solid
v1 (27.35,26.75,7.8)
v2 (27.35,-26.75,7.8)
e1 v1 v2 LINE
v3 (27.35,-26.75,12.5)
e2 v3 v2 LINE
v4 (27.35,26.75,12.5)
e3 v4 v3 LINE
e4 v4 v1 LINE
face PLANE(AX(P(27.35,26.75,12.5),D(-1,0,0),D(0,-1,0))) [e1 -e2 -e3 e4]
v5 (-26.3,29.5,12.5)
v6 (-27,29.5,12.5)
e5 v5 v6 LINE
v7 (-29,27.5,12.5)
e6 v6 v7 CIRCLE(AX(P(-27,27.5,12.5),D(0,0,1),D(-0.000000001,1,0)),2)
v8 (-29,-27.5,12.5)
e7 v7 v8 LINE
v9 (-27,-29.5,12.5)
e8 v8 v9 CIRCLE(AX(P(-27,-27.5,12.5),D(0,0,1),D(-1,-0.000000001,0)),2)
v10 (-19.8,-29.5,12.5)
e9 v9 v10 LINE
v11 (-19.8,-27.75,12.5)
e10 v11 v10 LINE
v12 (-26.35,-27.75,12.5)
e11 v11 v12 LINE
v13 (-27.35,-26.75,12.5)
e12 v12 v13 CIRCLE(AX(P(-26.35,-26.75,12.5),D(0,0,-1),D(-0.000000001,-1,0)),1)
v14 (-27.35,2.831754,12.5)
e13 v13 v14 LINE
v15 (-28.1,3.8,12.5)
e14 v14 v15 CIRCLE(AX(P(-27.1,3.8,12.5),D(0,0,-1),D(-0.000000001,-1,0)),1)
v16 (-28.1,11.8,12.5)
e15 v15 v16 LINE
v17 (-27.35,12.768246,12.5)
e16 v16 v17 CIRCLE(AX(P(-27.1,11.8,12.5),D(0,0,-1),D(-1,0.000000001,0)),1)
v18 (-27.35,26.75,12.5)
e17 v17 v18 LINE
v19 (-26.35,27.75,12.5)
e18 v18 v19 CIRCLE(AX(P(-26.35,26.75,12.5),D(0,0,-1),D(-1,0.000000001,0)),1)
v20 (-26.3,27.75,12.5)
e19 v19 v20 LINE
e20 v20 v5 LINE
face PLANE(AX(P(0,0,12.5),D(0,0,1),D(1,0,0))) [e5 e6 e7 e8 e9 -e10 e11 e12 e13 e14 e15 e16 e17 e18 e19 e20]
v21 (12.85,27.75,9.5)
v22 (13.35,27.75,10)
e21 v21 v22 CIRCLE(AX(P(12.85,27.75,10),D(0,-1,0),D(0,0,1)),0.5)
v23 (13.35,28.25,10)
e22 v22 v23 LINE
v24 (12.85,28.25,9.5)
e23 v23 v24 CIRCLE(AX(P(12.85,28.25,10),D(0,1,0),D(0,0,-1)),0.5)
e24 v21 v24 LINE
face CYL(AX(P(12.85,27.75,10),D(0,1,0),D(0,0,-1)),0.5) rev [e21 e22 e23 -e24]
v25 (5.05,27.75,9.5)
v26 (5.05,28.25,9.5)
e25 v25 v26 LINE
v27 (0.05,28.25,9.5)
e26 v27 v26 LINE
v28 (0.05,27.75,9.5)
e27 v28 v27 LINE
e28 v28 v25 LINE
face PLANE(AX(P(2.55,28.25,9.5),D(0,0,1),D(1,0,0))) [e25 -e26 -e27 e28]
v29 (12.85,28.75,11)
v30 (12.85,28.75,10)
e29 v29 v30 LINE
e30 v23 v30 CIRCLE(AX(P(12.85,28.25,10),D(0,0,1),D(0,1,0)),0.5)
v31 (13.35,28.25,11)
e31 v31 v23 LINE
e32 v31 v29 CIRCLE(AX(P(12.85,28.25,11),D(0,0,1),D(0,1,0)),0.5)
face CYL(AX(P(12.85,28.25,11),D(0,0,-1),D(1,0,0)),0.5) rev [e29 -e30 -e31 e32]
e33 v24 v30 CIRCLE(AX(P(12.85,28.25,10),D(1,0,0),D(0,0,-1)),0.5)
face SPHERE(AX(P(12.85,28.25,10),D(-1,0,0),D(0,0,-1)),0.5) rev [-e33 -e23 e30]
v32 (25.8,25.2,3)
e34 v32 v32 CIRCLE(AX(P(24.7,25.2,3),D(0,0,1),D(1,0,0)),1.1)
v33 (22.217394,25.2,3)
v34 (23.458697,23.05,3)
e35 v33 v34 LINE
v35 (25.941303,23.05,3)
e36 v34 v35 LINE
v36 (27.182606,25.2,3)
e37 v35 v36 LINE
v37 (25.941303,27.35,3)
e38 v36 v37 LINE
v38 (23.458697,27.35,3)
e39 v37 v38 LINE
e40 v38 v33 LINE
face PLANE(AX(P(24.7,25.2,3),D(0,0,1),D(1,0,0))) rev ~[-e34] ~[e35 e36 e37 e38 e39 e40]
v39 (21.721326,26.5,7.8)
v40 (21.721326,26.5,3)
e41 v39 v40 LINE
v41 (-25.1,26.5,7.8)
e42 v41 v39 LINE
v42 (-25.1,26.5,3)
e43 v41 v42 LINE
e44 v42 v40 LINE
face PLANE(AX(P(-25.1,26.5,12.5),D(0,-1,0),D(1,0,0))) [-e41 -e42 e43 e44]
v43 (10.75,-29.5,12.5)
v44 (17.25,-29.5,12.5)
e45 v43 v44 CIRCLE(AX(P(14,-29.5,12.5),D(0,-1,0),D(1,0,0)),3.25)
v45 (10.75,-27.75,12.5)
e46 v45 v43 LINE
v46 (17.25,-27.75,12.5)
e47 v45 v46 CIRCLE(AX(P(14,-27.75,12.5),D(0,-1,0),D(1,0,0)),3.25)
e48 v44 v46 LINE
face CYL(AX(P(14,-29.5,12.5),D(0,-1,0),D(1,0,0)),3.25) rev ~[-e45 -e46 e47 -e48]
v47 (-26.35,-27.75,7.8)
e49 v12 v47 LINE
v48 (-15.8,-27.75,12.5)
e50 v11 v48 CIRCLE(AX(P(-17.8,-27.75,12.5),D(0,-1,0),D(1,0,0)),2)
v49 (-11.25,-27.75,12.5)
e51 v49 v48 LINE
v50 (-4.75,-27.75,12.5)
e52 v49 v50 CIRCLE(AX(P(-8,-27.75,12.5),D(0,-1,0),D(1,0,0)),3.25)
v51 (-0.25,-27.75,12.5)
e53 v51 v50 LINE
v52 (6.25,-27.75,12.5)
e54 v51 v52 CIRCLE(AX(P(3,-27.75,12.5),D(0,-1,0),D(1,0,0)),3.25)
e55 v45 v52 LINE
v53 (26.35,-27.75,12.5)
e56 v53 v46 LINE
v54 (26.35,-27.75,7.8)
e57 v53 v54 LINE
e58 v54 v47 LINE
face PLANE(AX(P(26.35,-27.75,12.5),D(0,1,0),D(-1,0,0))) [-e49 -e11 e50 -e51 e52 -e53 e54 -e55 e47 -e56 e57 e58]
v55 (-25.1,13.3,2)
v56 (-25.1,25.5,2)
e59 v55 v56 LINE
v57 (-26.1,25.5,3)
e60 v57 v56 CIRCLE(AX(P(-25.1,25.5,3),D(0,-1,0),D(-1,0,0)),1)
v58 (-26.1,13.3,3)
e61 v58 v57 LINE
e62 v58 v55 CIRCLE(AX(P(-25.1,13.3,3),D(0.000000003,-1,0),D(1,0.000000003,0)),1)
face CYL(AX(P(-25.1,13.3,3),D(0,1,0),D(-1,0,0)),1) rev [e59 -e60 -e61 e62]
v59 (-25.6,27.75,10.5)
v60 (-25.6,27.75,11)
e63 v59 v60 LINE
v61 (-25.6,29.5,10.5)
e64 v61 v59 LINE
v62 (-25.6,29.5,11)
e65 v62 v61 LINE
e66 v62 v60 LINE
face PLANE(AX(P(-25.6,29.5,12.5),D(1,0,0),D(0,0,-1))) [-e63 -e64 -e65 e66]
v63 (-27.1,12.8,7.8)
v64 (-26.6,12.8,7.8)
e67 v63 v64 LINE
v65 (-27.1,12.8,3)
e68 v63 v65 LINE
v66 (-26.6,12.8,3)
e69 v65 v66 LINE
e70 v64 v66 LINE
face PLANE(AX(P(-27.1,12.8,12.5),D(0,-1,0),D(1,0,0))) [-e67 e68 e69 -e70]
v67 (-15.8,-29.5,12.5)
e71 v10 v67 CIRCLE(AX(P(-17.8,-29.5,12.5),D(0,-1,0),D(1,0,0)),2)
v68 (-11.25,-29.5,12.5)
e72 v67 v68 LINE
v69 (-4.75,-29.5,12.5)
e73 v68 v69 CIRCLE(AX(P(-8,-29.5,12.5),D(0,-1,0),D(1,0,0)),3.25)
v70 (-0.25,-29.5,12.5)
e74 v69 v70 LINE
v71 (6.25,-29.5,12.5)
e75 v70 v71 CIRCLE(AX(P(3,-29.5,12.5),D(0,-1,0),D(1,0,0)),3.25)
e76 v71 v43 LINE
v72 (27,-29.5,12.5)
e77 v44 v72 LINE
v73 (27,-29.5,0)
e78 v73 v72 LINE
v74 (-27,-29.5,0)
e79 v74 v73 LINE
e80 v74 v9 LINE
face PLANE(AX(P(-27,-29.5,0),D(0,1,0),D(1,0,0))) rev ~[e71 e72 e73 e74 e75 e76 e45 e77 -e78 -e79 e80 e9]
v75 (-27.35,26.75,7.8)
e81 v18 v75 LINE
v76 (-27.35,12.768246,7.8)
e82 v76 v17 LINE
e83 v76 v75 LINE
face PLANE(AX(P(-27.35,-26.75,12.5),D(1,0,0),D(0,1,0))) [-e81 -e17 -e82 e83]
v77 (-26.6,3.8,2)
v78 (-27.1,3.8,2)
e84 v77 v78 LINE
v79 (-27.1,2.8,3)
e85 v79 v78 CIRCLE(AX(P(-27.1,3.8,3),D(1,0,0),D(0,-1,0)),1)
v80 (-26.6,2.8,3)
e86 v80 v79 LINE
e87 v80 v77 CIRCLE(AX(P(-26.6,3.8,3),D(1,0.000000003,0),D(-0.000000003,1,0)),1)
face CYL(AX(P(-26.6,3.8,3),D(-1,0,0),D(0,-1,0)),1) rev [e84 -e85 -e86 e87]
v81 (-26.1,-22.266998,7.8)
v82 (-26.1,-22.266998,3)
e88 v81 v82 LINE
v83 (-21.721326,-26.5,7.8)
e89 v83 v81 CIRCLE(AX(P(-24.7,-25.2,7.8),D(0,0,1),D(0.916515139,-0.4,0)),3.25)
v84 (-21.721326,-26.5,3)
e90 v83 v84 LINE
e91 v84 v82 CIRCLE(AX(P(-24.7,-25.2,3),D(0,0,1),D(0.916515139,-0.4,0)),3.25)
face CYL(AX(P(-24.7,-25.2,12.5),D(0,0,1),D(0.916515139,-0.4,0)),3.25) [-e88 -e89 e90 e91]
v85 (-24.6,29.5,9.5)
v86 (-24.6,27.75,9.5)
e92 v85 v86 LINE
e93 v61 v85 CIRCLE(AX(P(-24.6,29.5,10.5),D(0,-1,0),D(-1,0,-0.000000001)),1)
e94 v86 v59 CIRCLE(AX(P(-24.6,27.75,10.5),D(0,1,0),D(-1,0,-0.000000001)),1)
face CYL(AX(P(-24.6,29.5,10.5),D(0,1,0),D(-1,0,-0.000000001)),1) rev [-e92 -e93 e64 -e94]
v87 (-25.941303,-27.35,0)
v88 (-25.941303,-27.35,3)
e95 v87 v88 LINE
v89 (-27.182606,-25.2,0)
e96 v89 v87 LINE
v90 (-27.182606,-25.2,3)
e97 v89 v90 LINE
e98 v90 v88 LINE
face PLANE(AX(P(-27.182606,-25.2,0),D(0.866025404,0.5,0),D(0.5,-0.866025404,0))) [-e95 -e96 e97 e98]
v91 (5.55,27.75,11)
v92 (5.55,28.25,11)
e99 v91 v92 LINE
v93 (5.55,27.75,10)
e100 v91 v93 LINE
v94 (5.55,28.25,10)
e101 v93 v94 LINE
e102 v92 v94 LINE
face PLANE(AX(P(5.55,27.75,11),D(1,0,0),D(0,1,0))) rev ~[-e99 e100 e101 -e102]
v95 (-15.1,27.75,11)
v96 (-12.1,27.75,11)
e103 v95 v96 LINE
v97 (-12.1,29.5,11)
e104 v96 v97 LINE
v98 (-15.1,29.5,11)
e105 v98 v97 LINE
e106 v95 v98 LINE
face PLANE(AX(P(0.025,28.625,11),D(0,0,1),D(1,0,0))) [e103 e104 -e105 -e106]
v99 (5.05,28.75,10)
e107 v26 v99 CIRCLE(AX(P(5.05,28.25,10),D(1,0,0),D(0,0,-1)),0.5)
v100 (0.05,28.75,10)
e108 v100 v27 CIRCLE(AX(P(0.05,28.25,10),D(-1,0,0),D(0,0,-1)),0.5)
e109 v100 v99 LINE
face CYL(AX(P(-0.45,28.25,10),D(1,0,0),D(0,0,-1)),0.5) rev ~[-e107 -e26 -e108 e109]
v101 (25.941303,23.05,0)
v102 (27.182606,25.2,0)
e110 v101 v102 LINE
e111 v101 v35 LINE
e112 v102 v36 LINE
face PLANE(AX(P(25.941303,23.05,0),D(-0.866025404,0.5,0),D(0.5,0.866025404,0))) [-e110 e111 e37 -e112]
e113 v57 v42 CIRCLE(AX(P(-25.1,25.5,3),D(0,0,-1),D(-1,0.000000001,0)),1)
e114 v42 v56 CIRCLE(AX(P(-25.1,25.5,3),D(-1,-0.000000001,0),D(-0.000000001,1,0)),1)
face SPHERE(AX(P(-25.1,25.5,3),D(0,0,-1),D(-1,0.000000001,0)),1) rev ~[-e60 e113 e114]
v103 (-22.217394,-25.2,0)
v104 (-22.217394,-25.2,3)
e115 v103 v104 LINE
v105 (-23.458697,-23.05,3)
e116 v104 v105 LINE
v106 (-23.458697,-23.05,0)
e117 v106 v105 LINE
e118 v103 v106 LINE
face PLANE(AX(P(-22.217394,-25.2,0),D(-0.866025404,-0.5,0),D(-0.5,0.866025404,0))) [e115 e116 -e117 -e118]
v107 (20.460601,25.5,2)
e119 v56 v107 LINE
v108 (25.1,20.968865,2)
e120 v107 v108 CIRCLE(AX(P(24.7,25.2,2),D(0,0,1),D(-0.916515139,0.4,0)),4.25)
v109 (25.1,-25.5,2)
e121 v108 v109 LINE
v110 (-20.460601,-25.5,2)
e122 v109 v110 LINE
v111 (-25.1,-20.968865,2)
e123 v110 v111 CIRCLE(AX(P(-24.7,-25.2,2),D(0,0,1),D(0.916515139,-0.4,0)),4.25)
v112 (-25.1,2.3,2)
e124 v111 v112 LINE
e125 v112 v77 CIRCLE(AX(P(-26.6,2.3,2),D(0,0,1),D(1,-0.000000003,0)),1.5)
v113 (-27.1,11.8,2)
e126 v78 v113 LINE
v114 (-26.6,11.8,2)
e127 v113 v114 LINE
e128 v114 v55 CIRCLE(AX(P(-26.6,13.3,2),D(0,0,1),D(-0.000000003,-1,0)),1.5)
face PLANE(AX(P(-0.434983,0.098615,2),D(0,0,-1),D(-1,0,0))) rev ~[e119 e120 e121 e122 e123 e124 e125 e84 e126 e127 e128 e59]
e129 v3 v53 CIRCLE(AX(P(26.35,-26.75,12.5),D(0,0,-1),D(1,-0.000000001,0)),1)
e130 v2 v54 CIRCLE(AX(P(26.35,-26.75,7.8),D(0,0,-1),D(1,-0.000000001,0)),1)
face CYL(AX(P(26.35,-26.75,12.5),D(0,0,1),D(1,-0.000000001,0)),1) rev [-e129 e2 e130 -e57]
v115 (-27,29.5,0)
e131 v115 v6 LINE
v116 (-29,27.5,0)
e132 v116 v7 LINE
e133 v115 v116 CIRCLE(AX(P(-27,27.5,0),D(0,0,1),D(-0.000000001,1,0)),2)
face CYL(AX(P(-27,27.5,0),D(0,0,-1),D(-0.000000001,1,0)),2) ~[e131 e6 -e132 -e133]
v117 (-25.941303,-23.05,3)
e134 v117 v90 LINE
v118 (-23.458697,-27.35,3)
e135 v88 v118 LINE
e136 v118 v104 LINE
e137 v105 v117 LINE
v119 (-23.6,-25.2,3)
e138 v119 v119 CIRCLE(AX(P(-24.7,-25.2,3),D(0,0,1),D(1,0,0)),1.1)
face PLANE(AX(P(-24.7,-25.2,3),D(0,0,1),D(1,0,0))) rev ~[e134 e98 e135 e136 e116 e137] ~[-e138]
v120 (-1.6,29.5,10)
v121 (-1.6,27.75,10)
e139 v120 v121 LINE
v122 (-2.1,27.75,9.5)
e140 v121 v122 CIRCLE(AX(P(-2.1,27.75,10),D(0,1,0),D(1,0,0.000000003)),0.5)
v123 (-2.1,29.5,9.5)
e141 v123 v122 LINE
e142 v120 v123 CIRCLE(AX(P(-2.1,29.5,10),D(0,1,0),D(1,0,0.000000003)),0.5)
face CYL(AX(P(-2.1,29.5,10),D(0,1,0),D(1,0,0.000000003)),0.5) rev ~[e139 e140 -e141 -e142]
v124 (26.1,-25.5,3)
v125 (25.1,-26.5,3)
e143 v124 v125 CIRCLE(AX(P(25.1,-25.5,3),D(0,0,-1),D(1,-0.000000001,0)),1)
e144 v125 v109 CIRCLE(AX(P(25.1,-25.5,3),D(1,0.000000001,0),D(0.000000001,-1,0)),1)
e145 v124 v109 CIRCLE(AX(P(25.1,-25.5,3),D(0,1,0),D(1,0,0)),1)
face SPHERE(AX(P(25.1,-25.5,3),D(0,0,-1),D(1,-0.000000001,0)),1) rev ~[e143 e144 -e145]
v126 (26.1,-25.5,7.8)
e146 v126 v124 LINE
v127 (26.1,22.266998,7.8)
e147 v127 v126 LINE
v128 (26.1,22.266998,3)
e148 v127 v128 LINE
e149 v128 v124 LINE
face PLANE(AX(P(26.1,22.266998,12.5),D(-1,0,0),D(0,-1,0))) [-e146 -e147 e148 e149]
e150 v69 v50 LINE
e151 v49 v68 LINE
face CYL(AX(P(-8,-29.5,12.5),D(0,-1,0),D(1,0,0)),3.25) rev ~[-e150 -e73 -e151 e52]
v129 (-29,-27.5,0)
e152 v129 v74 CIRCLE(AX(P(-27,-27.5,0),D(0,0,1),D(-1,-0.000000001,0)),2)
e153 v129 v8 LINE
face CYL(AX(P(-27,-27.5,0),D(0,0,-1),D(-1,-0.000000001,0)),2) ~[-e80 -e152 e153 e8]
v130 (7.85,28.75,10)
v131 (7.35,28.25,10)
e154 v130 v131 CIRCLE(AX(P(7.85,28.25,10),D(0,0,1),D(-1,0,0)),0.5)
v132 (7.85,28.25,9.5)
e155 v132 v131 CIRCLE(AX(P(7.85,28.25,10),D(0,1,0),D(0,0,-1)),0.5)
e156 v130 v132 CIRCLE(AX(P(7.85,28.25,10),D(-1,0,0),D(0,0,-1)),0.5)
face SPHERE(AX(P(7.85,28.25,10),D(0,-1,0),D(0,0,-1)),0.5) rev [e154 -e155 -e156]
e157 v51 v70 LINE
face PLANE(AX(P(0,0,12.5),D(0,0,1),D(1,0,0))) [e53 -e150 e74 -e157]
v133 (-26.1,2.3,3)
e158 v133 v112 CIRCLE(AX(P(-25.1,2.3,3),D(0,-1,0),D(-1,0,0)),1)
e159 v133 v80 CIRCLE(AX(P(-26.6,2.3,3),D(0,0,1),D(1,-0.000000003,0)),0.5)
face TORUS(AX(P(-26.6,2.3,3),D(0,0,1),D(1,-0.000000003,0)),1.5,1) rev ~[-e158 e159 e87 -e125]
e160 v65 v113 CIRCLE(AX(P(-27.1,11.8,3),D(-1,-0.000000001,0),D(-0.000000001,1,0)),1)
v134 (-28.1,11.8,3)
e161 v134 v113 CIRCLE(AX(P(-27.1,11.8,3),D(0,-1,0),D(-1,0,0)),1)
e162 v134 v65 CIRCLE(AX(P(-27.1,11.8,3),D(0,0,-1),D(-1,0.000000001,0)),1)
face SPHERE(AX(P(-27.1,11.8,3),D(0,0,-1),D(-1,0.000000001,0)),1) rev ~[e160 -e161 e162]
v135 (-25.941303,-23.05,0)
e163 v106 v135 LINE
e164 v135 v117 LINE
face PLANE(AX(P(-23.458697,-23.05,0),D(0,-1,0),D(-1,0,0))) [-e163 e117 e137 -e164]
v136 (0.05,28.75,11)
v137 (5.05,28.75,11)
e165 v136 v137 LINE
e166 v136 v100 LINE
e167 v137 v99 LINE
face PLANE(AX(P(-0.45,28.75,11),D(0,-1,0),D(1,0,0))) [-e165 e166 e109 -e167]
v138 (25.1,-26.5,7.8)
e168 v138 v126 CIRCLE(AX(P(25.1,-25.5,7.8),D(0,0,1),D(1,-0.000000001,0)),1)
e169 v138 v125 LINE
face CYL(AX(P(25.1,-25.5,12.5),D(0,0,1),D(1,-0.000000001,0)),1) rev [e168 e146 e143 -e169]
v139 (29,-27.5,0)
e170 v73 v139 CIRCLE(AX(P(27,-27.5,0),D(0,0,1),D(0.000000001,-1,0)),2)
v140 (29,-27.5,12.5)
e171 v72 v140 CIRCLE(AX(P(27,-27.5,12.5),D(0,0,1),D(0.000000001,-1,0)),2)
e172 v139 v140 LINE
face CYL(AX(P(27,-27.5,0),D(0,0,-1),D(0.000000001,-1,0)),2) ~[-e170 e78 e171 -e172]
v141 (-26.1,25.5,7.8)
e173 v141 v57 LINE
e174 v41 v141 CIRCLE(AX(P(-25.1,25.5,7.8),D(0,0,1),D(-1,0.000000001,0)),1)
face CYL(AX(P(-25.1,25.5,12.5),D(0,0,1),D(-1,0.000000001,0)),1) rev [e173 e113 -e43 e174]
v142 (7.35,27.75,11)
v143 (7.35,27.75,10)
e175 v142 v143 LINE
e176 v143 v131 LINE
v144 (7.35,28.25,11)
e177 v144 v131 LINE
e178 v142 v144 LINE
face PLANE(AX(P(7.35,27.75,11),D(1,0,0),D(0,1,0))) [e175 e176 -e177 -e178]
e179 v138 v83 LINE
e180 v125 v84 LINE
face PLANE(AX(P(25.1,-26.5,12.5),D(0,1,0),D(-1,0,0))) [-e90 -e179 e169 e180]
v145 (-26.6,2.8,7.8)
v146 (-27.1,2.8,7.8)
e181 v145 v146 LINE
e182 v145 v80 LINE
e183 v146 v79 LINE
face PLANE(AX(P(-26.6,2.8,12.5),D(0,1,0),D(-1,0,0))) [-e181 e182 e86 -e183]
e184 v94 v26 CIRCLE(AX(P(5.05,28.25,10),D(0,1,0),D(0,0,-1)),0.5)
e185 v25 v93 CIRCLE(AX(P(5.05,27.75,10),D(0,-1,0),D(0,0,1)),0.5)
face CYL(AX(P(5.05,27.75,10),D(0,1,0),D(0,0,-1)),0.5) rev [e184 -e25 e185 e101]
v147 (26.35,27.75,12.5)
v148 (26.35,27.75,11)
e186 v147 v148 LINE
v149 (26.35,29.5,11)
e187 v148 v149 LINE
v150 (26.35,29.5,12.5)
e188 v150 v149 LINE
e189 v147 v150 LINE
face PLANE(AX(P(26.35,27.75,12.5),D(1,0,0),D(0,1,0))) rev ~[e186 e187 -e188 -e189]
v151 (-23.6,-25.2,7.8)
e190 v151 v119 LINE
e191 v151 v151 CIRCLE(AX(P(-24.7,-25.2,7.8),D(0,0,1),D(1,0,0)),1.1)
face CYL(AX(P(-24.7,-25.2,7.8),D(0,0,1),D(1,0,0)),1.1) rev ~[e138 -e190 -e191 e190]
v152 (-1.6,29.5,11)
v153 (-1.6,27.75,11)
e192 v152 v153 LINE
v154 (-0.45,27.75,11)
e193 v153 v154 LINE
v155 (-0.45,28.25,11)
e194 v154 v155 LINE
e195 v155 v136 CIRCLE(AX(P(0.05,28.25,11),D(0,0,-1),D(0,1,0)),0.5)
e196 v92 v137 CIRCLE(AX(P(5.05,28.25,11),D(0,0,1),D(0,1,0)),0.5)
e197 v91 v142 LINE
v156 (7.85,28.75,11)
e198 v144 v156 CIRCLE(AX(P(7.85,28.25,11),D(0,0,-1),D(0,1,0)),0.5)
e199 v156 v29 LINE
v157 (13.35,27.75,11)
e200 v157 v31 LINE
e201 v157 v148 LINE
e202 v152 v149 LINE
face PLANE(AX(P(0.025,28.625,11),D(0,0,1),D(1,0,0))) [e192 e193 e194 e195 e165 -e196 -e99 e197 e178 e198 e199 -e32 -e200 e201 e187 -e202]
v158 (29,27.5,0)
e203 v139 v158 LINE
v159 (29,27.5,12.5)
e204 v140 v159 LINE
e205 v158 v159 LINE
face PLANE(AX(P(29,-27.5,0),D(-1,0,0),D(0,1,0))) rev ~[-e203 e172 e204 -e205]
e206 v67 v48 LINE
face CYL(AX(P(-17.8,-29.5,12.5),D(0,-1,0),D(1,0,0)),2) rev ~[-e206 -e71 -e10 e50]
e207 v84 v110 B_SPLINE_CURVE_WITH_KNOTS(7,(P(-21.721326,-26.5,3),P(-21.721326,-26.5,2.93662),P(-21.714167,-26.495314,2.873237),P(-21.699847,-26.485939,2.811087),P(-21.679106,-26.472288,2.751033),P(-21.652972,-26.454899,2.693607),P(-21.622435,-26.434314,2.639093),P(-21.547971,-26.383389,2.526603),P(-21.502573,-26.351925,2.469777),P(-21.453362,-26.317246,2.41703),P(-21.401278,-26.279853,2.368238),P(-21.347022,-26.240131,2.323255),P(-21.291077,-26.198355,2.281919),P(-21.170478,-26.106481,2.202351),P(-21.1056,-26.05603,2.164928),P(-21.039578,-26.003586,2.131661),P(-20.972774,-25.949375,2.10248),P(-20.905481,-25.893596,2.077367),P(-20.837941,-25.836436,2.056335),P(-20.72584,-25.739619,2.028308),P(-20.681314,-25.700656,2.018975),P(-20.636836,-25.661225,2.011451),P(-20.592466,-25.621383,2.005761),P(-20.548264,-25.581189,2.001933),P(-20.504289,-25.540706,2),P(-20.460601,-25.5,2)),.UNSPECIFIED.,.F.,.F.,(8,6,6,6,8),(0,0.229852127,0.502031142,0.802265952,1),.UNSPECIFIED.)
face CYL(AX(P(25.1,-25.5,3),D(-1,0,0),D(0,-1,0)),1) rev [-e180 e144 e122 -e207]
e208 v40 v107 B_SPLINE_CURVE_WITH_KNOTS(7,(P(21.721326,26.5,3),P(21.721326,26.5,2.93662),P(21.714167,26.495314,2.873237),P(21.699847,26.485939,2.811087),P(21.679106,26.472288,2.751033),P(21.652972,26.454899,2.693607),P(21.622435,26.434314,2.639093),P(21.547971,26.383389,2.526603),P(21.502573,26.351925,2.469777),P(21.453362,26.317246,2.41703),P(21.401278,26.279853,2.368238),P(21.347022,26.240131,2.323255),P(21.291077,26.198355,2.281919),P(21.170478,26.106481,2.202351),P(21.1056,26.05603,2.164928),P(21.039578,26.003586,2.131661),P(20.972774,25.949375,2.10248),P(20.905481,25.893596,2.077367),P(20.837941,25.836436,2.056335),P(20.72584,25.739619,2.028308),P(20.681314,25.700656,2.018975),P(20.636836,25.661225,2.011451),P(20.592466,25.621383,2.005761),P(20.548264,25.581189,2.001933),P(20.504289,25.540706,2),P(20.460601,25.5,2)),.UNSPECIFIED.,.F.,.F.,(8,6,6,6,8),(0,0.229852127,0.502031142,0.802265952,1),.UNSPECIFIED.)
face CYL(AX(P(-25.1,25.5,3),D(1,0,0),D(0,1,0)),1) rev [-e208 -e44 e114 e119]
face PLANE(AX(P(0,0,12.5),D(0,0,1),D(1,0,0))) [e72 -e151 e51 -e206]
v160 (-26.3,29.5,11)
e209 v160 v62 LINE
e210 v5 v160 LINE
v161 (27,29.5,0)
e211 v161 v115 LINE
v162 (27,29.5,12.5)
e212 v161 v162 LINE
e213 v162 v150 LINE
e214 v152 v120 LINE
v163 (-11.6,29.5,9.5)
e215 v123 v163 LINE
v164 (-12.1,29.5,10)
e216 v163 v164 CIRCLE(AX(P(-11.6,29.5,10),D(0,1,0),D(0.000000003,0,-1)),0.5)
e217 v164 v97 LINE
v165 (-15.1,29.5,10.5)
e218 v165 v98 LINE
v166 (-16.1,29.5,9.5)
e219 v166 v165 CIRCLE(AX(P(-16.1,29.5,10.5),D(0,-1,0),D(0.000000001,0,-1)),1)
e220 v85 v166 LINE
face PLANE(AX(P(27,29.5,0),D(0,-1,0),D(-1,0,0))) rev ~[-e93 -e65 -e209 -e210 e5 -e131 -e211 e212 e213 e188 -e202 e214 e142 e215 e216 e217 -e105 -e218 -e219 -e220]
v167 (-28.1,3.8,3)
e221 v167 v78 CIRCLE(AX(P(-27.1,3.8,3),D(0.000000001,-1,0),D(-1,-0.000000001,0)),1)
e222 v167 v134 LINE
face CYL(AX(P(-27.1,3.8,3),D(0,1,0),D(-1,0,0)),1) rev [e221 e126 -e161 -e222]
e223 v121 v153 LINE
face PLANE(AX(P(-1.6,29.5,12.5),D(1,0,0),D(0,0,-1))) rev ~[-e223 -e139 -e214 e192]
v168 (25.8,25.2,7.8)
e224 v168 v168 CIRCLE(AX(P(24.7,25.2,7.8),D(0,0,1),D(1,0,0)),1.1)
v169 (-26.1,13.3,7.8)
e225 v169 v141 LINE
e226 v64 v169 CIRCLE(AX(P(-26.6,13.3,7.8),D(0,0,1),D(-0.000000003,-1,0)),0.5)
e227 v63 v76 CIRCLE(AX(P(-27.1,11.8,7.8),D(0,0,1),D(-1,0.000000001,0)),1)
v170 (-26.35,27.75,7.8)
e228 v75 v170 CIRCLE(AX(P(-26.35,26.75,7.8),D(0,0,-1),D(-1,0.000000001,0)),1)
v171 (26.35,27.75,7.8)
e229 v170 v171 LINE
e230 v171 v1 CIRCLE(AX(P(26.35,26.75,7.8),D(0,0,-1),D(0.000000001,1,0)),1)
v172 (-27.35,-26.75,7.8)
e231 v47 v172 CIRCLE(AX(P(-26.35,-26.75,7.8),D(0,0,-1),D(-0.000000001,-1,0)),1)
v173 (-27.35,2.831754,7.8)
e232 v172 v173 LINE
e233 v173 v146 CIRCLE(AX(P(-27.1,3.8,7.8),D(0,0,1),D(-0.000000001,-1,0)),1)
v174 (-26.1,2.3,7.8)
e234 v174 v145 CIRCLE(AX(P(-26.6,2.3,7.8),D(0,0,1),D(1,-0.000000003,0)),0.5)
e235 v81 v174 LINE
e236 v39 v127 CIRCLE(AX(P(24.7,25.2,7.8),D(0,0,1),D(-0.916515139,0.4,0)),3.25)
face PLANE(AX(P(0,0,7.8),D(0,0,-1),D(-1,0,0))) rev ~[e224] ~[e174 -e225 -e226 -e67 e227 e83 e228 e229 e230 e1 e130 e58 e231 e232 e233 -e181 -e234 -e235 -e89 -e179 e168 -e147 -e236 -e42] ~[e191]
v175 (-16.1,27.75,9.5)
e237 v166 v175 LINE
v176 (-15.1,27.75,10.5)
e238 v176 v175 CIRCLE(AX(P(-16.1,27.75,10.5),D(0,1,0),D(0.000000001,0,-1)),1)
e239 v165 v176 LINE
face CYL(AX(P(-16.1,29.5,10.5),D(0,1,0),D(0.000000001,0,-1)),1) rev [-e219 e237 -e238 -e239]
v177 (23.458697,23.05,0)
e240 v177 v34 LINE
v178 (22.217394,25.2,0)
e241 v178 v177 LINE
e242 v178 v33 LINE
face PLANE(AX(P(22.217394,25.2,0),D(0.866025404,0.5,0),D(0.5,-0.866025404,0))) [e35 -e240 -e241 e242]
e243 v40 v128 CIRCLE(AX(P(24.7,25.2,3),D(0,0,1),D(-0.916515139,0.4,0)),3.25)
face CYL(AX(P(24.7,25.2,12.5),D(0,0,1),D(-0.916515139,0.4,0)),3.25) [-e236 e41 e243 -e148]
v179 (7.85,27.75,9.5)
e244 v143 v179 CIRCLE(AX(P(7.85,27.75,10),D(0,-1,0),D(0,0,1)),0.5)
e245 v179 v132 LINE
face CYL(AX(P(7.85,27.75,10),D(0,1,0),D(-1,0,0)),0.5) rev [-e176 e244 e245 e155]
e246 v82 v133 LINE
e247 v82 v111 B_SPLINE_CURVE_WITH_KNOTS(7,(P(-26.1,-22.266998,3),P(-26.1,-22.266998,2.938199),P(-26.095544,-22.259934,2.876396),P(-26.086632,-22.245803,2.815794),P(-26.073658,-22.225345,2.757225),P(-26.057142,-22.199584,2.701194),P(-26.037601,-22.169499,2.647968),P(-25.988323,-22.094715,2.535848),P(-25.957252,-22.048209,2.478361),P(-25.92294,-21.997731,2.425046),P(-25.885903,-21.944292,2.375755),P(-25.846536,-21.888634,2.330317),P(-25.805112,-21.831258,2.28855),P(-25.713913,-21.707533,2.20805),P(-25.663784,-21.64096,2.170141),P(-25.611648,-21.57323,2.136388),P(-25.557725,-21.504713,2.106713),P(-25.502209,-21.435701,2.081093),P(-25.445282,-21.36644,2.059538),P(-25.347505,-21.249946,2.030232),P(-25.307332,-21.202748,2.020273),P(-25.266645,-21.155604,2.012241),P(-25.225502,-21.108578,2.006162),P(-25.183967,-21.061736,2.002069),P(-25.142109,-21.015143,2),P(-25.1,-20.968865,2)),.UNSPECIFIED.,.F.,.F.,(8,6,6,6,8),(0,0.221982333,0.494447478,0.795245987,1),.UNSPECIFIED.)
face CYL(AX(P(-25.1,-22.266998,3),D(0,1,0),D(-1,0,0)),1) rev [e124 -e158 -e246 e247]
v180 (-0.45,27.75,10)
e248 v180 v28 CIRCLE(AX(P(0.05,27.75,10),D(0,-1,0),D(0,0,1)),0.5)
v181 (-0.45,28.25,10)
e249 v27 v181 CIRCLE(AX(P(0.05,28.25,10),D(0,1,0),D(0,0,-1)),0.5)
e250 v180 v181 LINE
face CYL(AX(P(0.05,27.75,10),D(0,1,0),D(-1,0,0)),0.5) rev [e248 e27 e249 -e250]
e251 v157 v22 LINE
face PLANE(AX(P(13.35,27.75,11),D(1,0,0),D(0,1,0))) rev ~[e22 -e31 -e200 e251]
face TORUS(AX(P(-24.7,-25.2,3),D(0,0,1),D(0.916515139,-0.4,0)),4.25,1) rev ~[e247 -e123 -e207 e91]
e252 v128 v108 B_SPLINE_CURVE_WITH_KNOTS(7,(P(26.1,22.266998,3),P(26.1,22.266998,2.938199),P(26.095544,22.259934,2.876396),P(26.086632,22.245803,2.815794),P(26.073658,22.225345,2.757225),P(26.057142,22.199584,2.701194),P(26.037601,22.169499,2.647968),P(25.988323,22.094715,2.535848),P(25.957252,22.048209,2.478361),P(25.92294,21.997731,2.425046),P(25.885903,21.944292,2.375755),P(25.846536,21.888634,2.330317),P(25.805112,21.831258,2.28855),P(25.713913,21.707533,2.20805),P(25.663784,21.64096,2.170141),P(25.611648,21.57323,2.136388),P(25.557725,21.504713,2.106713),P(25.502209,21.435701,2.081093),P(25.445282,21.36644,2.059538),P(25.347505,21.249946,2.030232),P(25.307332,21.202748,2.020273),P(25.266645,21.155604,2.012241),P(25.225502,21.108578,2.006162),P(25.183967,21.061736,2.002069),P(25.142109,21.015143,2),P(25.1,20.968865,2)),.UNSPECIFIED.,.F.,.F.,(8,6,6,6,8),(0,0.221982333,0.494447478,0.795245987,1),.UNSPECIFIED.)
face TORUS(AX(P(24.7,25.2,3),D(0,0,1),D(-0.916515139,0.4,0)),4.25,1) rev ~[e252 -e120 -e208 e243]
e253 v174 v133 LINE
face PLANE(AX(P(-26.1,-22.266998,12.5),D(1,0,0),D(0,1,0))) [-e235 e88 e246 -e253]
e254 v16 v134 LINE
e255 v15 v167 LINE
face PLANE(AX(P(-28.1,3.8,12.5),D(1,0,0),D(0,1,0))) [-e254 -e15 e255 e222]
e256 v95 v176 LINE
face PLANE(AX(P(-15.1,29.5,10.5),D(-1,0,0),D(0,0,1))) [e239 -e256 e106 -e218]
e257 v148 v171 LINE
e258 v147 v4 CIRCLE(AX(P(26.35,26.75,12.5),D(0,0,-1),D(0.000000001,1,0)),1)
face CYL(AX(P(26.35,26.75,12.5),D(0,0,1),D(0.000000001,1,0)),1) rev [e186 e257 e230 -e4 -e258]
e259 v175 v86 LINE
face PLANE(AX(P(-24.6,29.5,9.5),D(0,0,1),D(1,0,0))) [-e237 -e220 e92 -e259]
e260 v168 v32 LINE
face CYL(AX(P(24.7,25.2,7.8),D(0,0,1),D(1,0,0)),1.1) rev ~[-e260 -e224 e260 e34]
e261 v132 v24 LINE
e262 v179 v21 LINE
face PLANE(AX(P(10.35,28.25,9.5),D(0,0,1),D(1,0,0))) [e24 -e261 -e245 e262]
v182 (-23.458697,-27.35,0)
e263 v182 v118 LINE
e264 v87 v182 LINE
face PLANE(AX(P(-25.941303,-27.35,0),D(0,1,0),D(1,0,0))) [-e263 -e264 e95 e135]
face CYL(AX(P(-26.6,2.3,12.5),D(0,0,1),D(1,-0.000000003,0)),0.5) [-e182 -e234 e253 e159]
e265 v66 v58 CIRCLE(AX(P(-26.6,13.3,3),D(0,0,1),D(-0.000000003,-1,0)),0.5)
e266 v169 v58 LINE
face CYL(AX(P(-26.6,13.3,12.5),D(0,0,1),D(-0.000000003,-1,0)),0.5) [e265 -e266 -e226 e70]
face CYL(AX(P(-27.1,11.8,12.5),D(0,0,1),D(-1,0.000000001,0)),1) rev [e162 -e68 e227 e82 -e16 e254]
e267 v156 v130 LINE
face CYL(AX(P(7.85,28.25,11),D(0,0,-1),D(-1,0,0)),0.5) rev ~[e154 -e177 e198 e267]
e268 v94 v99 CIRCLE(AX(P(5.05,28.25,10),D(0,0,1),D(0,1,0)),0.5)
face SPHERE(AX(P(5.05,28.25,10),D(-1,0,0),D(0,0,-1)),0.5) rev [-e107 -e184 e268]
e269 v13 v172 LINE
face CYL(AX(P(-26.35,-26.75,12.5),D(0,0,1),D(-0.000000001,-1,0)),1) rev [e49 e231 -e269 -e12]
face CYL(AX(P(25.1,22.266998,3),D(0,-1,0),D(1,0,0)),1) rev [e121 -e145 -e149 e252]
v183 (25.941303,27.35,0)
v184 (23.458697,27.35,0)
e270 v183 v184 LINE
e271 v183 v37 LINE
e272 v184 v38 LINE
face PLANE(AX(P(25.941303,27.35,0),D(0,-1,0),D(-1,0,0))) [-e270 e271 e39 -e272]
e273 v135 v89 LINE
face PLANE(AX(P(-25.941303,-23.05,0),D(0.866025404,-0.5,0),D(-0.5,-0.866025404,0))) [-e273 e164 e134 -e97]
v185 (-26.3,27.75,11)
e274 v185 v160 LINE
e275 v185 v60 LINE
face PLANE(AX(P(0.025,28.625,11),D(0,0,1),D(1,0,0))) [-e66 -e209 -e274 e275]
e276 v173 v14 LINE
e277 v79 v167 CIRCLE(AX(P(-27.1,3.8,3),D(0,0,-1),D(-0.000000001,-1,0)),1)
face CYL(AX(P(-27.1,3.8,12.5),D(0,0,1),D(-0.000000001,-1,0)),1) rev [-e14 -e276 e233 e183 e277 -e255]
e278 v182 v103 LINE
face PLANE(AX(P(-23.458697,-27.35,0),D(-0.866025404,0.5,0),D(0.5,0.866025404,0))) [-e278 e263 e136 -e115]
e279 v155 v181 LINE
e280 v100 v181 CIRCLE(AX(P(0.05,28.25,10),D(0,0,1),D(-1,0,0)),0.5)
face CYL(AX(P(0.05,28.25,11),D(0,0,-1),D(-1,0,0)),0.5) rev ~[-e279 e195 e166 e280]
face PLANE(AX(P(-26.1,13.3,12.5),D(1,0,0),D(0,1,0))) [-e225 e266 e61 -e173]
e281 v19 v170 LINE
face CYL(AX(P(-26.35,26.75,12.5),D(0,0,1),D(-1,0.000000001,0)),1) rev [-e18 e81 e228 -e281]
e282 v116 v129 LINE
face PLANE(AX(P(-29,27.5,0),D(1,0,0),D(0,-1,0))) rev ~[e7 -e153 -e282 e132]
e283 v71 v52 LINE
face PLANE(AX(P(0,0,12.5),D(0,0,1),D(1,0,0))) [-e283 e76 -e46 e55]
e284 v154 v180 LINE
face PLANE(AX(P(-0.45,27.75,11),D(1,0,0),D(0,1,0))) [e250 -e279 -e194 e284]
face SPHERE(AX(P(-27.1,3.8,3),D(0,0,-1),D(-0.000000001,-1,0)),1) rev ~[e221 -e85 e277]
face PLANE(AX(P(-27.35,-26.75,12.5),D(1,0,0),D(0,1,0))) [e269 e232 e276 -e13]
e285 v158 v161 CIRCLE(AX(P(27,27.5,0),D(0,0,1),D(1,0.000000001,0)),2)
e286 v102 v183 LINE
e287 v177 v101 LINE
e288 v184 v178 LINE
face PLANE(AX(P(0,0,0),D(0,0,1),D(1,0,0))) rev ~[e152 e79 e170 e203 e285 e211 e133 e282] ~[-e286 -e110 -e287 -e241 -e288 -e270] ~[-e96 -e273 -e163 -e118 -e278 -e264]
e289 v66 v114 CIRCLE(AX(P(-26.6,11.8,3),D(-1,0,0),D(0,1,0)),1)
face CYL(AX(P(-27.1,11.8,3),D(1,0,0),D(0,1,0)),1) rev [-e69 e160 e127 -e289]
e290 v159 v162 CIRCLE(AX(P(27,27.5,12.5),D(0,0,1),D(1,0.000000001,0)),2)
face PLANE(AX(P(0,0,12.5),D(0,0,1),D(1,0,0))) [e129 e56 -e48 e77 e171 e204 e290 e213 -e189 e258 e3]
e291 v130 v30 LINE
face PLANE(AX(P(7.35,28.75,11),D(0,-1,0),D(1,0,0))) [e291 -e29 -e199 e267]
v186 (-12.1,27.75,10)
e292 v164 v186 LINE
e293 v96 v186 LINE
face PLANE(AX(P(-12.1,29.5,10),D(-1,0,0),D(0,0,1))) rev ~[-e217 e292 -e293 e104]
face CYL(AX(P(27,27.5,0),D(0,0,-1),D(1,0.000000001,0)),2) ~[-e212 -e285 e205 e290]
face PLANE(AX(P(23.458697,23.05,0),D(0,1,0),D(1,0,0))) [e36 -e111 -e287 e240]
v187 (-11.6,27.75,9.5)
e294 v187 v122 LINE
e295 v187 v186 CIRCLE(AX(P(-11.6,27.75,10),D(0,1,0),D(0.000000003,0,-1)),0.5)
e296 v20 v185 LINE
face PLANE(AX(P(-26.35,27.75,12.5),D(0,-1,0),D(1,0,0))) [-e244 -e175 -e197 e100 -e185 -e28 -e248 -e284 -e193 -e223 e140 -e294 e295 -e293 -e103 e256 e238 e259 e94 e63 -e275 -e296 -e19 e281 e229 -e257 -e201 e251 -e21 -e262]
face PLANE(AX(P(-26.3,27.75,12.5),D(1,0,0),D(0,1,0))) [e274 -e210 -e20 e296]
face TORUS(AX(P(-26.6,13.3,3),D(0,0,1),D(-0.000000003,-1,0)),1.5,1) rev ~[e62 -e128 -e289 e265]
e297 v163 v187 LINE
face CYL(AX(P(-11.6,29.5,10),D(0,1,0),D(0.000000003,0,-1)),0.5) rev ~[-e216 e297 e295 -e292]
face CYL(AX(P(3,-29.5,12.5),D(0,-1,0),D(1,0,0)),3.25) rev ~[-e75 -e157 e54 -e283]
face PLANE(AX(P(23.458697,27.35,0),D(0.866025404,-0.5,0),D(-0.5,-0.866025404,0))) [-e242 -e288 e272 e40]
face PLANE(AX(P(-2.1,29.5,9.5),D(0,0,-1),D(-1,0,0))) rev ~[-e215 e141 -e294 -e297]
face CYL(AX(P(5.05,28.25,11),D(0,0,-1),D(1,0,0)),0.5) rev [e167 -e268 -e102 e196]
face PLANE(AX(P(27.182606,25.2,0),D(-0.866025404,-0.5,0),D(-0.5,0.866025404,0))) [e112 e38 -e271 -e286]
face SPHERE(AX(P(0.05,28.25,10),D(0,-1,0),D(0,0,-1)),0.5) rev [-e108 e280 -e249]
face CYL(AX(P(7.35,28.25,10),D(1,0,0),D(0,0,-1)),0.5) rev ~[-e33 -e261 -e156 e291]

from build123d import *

# Parameters (mm, degrees)
GEH_USEKORPUS_DEPTH                = 12.5
GEH_USEAUSH_HLUNG_DEPTH            = 10.5
PLATINENHALTERUNG_DEPTH            = 4.7
SKETCH8_R                          = 1.1
SCHRAUBL_CHER_DEPTH                = 43.096199353
SCHRAUBENMUTTER_AUSNEHMUNGEN_DEPTH = 3
SKETCH10_R                         = 3.25
SKETCH10_R_2                       = 2
BUTTON_AUSNEHMUNGEN_DEPTH          = 3
SCHNITT_LINEAR_AUSTRAGEN1_DEPTH    = 10
SKIZZE2_W                          = 52.65
SKIZZE2_H                          = 1.75
SCHNITT_LINEAR_AUSTRAGEN2_DEPTH    = 1.5
SKIZZE3_W                          = 6
SKIZZE3_H                          = 1
SCHNITT_LINEAR_AUSTRAGEN3_DEPTH    = 1.5
VERRUNDUNG1_R                      = 0.5
VERRUNDUNG2_R                      = 1


with BuildPart() as part:
    # Sketch1 → Gehäusekorpus (new body)
    with BuildSketch(Plane.XY):
        with BuildLine():
            Line((-27, -29.5), (27, -29.5))
            ThreePointArc((27, -29.5), (28.414213562, -28.914213562), (29, -27.5))
            Line((29, -27.5), (29, 27.5))
            ThreePointArc((29, 27.5), (28.414213562, 28.914213562), (27, 29.5))
            Line((27, 29.5), (-27, 29.5))
            ThreePointArc((-27, 29.5), (-28.414213562, 28.914213562), (-29, 27.5))
            Line((-29, 27.5), (-29, -27.5))
            ThreePointArc((-29, -27.5), (-28.414213562, -28.914213562), (-27, -29.5))
        make_face()
    extrude(amount=GEH_USEKORPUS_DEPTH)

    # Sketch3 → Gehäuseaushöhlung (cut)
    with BuildSketch(Plane.XY.offset(12.5)):
        with BuildLine():
            Line((-25.1, 26.5), (21.721325798, 26.5))
            ThreePointArc((21.721325798, 26.5), (22.441099985, 22.863363374), (26.1, 22.266998125))
            Line((26.1, 22.266998125), (26.1, -25.5))
            ThreePointArc((26.1, -25.5), (25.807106781, -26.207106781), (25.1, -26.5))
            Line((25.1, -26.5), (-21.721325798, -26.5))
            ThreePointArc((-21.721325798, -26.5), (-22.441099985, -22.863363374), (-26.1, -22.266998125))
            Line((-26.1, -22.266998125), (-26.1, 2.3))
            ThreePointArc((-26.1, 2.3), (-26.246446609, 2.653553391), (-26.6, 2.8))
            Line((-26.6, 2.8), (-27.1, 2.8))
            ThreePointArc((-27.1, 2.8), (-27.807106781, 3.092893219), (-28.1, 3.8))
            Line((-28.1, 3.8), (-28.1, 11.8))
            ThreePointArc((-28.1, 11.8), (-27.807106781, 12.507106781), (-27.1, 12.8))
            Line((-27.1, 12.8), (-26.6, 12.8))
            ThreePointArc((-26.6, 12.8), (-26.246446609, 12.946446609), (-26.1, 13.3))
            Line((-26.1, 13.3), (-26.1, 25.5))
            ThreePointArc((-26.1, 25.5), (-25.807106781, 26.207106781), (-25.1, 26.5))
        make_face()
    extrude(amount=-GEH_USEAUSH_HLUNG_DEPTH, mode=Mode.SUBTRACT)

    # Sketch4 → Platinenhalterung (cut)
    with BuildSketch(Plane.XY.offset(12.5)):
        with BuildLine():
            Line((-26.35, 27.75), (26.35, 27.75))
            ThreePointArc((26.35, 27.75), (27.057106781, 27.457106781), (27.35, 26.75))
            Line((27.35, 26.75), (27.35, -26.75))
            ThreePointArc((27.35, -26.75), (27.057106781, -27.457106781), (26.35, -27.75))
            Line((26.35, -27.75), (-26.35, -27.75))
            ThreePointArc((-26.35, -27.75), (-27.057106781, -27.457106781), (-27.35, -26.75))
            Line((-27.35, -26.75), (-27.35, 26.75))
            ThreePointArc((-27.35, 26.75), (-27.057106781, 27.457106781), (-26.35, 27.75))
        make_face()
    extrude(amount=-PLATINENHALTERUNG_DEPTH, mode=Mode.SUBTRACT)

    # Sketch8 → Schraublöcher (cut, through all)
    with BuildSketch(Plane.XY.offset(7.8)):
        with Locations((-24.7, -25.2)):
            Circle(SKETCH8_R)
        with Locations((24.7, 25.2)):
            Circle(SKETCH8_R)
    extrude(amount=-SCHRAUBL_CHER_DEPTH, mode=Mode.SUBTRACT)

    # Sketch9 → Schraubenmutter_Ausnehmungen (cut)
    with BuildSketch(Plane.XY):
        Polygon((27.182606158, 25.2), (25.941303079, 27.35), (23.458696921, 27.35), (22.217393842, 25.2), (23.458696921, 23.05), (25.941303079, 23.05), align=None)
        Polygon((-22.217393842, -25.2), (-23.458696921, -23.05), (-25.941303079, -23.05), (-27.182606158, -25.2), (-25.941303079, -27.35), (-23.458696921, -27.35), align=None)
    extrude(amount=SCHRAUBENMUTTER_AUSNEHMUNGEN_DEPTH, mode=Mode.SUBTRACT)

    # Sketch10 → Button_Ausnehmungen (cut)
    with BuildSketch(Plane.XZ.offset(29.5)):
        with Locations((-8, 12.5)):
            Circle(SKETCH10_R)
        with Locations((3, 12.5)):
            Circle(SKETCH10_R)
        with Locations((14, 12.5)):
            Circle(SKETCH10_R)
        with Locations((-17.8, 12.5)):
            Circle(SKETCH10_R_2)
    extrude(amount=-BUTTON_AUSNEHMUNGEN_DEPTH, mode=Mode.SUBTRACT)

    # Skizze1 → Schnitt-Linear austragen1 (cut)
    with BuildSketch(Plane(origin=(0, 29.5, 0), x_dir=(1, 0, 0), z_dir=(0, 1, 0))):
        with BuildLine():
            Line((-15.1, -12.5), (-25.6, -12.5))
            Line((-25.6, -12.5), (-25.6, -10.5))
            ThreePointArc((-25.6, -10.5), (-25.307106781, -9.792893219), (-24.6, -9.5))
            Line((-24.6, -9.5), (-16.1, -9.5))
            ThreePointArc((-16.1, -9.5), (-15.392893219, -9.792893219), (-15.1, -10.5))
            Line((-15.1, -10.5), (-15.1, -12.5))
        make_face()
        with BuildLine():
            Line((-12.1, -12.5), (-1.6, -12.5))
            Line((-1.6, -12.5), (-1.6, -10))
            ThreePointArc((-1.6, -10), (-1.746446609, -9.646446609), (-2.1, -9.5))
            Line((-2.1, -9.5), (-11.6, -9.5))
            ThreePointArc((-11.6, -9.5), (-11.953553391, -9.646446609), (-12.1, -10))
            Line((-12.1, -10), (-12.1, -12.5))
        make_face()
    extrude(amount=-SCHNITT_LINEAR_AUSTRAGEN1_DEPTH, mode=Mode.SUBTRACT)

    # Skizze2 → Schnitt-Linear austragen2 (cut)
    with BuildSketch(Plane.XY.offset(12.5)):
        with Locations((0.025, 28.625)):
            Rectangle(SKIZZE2_W, SKIZZE2_H)
    extrude(amount=-SCHNITT_LINEAR_AUSTRAGEN2_DEPTH, mode=Mode.SUBTRACT)

    # Skizze3 → Schnitt-Linear austragen3 (cut)
    with BuildSketch(Plane.XY.offset(11)):
        with Locations((2.55, 28.25)):
            Rectangle(SKIZZE3_W, SKIZZE3_H)
        with Locations((10.35, 28.25)):
            Rectangle(SKIZZE3_W, SKIZZE3_H)
    extrude(amount=-SCHNITT_LINEAR_AUSTRAGEN3_DEPTH, mode=Mode.SUBTRACT)

    # Verrundung1
    verrundung1_edges = [part.edges().sort_by_distance(p)[0] for p in [
        (-0.45, 28.25, 9.5),
        (2.55, 28.75, 9.5),
        (-0.45, 28.75, 10.25),
        (5.55, 28.25, 9.5),
        (5.55, 28.75, 10.25),
        (7.35, 28.25, 9.5),
        (10.35, 28.75, 9.5),
        (7.35, 28.75, 10.25),
        (13.35, 28.25, 9.5),
        (13.35, 28.75, 10.25),
    ]]
    fillet(verrundung1_edges, radius=VERRUNDUNG1_R)

    # Verrundung2
    verrundung2_edges = [part.edges().sort_by_distance(p)[0] for p in [
        (-22.441099985, -22.863363374, 2),
        (-26.1, -9.983499062, 2),
        (-26.246446609, 2.653553391, 2),
        (-26.85, 2.8, 2),
        (-27.807106781, 3.092893219, 2),
        (-28.1, 7.8, 2),
        (-27.807106781, 12.507106781, 2),
        (-26.85, 12.8, 2),
        (-26.246446609, 12.946446609, 2),
        (-26.1, 19.4, 2),
        (-25.807106781, 26.207106781, 2),
        (-1.689337101, 26.5, 2),
        (22.441099985, 22.863363374, 2),
        (26.1, -1.616500938, 2),
        (25.807106781, -26.207106781, 2),
        (1.689337101, -26.5, 2),
    ]]
    fillet(verrundung2_edges, radius=VERRUNDUNG2_R)


solid = part.part
